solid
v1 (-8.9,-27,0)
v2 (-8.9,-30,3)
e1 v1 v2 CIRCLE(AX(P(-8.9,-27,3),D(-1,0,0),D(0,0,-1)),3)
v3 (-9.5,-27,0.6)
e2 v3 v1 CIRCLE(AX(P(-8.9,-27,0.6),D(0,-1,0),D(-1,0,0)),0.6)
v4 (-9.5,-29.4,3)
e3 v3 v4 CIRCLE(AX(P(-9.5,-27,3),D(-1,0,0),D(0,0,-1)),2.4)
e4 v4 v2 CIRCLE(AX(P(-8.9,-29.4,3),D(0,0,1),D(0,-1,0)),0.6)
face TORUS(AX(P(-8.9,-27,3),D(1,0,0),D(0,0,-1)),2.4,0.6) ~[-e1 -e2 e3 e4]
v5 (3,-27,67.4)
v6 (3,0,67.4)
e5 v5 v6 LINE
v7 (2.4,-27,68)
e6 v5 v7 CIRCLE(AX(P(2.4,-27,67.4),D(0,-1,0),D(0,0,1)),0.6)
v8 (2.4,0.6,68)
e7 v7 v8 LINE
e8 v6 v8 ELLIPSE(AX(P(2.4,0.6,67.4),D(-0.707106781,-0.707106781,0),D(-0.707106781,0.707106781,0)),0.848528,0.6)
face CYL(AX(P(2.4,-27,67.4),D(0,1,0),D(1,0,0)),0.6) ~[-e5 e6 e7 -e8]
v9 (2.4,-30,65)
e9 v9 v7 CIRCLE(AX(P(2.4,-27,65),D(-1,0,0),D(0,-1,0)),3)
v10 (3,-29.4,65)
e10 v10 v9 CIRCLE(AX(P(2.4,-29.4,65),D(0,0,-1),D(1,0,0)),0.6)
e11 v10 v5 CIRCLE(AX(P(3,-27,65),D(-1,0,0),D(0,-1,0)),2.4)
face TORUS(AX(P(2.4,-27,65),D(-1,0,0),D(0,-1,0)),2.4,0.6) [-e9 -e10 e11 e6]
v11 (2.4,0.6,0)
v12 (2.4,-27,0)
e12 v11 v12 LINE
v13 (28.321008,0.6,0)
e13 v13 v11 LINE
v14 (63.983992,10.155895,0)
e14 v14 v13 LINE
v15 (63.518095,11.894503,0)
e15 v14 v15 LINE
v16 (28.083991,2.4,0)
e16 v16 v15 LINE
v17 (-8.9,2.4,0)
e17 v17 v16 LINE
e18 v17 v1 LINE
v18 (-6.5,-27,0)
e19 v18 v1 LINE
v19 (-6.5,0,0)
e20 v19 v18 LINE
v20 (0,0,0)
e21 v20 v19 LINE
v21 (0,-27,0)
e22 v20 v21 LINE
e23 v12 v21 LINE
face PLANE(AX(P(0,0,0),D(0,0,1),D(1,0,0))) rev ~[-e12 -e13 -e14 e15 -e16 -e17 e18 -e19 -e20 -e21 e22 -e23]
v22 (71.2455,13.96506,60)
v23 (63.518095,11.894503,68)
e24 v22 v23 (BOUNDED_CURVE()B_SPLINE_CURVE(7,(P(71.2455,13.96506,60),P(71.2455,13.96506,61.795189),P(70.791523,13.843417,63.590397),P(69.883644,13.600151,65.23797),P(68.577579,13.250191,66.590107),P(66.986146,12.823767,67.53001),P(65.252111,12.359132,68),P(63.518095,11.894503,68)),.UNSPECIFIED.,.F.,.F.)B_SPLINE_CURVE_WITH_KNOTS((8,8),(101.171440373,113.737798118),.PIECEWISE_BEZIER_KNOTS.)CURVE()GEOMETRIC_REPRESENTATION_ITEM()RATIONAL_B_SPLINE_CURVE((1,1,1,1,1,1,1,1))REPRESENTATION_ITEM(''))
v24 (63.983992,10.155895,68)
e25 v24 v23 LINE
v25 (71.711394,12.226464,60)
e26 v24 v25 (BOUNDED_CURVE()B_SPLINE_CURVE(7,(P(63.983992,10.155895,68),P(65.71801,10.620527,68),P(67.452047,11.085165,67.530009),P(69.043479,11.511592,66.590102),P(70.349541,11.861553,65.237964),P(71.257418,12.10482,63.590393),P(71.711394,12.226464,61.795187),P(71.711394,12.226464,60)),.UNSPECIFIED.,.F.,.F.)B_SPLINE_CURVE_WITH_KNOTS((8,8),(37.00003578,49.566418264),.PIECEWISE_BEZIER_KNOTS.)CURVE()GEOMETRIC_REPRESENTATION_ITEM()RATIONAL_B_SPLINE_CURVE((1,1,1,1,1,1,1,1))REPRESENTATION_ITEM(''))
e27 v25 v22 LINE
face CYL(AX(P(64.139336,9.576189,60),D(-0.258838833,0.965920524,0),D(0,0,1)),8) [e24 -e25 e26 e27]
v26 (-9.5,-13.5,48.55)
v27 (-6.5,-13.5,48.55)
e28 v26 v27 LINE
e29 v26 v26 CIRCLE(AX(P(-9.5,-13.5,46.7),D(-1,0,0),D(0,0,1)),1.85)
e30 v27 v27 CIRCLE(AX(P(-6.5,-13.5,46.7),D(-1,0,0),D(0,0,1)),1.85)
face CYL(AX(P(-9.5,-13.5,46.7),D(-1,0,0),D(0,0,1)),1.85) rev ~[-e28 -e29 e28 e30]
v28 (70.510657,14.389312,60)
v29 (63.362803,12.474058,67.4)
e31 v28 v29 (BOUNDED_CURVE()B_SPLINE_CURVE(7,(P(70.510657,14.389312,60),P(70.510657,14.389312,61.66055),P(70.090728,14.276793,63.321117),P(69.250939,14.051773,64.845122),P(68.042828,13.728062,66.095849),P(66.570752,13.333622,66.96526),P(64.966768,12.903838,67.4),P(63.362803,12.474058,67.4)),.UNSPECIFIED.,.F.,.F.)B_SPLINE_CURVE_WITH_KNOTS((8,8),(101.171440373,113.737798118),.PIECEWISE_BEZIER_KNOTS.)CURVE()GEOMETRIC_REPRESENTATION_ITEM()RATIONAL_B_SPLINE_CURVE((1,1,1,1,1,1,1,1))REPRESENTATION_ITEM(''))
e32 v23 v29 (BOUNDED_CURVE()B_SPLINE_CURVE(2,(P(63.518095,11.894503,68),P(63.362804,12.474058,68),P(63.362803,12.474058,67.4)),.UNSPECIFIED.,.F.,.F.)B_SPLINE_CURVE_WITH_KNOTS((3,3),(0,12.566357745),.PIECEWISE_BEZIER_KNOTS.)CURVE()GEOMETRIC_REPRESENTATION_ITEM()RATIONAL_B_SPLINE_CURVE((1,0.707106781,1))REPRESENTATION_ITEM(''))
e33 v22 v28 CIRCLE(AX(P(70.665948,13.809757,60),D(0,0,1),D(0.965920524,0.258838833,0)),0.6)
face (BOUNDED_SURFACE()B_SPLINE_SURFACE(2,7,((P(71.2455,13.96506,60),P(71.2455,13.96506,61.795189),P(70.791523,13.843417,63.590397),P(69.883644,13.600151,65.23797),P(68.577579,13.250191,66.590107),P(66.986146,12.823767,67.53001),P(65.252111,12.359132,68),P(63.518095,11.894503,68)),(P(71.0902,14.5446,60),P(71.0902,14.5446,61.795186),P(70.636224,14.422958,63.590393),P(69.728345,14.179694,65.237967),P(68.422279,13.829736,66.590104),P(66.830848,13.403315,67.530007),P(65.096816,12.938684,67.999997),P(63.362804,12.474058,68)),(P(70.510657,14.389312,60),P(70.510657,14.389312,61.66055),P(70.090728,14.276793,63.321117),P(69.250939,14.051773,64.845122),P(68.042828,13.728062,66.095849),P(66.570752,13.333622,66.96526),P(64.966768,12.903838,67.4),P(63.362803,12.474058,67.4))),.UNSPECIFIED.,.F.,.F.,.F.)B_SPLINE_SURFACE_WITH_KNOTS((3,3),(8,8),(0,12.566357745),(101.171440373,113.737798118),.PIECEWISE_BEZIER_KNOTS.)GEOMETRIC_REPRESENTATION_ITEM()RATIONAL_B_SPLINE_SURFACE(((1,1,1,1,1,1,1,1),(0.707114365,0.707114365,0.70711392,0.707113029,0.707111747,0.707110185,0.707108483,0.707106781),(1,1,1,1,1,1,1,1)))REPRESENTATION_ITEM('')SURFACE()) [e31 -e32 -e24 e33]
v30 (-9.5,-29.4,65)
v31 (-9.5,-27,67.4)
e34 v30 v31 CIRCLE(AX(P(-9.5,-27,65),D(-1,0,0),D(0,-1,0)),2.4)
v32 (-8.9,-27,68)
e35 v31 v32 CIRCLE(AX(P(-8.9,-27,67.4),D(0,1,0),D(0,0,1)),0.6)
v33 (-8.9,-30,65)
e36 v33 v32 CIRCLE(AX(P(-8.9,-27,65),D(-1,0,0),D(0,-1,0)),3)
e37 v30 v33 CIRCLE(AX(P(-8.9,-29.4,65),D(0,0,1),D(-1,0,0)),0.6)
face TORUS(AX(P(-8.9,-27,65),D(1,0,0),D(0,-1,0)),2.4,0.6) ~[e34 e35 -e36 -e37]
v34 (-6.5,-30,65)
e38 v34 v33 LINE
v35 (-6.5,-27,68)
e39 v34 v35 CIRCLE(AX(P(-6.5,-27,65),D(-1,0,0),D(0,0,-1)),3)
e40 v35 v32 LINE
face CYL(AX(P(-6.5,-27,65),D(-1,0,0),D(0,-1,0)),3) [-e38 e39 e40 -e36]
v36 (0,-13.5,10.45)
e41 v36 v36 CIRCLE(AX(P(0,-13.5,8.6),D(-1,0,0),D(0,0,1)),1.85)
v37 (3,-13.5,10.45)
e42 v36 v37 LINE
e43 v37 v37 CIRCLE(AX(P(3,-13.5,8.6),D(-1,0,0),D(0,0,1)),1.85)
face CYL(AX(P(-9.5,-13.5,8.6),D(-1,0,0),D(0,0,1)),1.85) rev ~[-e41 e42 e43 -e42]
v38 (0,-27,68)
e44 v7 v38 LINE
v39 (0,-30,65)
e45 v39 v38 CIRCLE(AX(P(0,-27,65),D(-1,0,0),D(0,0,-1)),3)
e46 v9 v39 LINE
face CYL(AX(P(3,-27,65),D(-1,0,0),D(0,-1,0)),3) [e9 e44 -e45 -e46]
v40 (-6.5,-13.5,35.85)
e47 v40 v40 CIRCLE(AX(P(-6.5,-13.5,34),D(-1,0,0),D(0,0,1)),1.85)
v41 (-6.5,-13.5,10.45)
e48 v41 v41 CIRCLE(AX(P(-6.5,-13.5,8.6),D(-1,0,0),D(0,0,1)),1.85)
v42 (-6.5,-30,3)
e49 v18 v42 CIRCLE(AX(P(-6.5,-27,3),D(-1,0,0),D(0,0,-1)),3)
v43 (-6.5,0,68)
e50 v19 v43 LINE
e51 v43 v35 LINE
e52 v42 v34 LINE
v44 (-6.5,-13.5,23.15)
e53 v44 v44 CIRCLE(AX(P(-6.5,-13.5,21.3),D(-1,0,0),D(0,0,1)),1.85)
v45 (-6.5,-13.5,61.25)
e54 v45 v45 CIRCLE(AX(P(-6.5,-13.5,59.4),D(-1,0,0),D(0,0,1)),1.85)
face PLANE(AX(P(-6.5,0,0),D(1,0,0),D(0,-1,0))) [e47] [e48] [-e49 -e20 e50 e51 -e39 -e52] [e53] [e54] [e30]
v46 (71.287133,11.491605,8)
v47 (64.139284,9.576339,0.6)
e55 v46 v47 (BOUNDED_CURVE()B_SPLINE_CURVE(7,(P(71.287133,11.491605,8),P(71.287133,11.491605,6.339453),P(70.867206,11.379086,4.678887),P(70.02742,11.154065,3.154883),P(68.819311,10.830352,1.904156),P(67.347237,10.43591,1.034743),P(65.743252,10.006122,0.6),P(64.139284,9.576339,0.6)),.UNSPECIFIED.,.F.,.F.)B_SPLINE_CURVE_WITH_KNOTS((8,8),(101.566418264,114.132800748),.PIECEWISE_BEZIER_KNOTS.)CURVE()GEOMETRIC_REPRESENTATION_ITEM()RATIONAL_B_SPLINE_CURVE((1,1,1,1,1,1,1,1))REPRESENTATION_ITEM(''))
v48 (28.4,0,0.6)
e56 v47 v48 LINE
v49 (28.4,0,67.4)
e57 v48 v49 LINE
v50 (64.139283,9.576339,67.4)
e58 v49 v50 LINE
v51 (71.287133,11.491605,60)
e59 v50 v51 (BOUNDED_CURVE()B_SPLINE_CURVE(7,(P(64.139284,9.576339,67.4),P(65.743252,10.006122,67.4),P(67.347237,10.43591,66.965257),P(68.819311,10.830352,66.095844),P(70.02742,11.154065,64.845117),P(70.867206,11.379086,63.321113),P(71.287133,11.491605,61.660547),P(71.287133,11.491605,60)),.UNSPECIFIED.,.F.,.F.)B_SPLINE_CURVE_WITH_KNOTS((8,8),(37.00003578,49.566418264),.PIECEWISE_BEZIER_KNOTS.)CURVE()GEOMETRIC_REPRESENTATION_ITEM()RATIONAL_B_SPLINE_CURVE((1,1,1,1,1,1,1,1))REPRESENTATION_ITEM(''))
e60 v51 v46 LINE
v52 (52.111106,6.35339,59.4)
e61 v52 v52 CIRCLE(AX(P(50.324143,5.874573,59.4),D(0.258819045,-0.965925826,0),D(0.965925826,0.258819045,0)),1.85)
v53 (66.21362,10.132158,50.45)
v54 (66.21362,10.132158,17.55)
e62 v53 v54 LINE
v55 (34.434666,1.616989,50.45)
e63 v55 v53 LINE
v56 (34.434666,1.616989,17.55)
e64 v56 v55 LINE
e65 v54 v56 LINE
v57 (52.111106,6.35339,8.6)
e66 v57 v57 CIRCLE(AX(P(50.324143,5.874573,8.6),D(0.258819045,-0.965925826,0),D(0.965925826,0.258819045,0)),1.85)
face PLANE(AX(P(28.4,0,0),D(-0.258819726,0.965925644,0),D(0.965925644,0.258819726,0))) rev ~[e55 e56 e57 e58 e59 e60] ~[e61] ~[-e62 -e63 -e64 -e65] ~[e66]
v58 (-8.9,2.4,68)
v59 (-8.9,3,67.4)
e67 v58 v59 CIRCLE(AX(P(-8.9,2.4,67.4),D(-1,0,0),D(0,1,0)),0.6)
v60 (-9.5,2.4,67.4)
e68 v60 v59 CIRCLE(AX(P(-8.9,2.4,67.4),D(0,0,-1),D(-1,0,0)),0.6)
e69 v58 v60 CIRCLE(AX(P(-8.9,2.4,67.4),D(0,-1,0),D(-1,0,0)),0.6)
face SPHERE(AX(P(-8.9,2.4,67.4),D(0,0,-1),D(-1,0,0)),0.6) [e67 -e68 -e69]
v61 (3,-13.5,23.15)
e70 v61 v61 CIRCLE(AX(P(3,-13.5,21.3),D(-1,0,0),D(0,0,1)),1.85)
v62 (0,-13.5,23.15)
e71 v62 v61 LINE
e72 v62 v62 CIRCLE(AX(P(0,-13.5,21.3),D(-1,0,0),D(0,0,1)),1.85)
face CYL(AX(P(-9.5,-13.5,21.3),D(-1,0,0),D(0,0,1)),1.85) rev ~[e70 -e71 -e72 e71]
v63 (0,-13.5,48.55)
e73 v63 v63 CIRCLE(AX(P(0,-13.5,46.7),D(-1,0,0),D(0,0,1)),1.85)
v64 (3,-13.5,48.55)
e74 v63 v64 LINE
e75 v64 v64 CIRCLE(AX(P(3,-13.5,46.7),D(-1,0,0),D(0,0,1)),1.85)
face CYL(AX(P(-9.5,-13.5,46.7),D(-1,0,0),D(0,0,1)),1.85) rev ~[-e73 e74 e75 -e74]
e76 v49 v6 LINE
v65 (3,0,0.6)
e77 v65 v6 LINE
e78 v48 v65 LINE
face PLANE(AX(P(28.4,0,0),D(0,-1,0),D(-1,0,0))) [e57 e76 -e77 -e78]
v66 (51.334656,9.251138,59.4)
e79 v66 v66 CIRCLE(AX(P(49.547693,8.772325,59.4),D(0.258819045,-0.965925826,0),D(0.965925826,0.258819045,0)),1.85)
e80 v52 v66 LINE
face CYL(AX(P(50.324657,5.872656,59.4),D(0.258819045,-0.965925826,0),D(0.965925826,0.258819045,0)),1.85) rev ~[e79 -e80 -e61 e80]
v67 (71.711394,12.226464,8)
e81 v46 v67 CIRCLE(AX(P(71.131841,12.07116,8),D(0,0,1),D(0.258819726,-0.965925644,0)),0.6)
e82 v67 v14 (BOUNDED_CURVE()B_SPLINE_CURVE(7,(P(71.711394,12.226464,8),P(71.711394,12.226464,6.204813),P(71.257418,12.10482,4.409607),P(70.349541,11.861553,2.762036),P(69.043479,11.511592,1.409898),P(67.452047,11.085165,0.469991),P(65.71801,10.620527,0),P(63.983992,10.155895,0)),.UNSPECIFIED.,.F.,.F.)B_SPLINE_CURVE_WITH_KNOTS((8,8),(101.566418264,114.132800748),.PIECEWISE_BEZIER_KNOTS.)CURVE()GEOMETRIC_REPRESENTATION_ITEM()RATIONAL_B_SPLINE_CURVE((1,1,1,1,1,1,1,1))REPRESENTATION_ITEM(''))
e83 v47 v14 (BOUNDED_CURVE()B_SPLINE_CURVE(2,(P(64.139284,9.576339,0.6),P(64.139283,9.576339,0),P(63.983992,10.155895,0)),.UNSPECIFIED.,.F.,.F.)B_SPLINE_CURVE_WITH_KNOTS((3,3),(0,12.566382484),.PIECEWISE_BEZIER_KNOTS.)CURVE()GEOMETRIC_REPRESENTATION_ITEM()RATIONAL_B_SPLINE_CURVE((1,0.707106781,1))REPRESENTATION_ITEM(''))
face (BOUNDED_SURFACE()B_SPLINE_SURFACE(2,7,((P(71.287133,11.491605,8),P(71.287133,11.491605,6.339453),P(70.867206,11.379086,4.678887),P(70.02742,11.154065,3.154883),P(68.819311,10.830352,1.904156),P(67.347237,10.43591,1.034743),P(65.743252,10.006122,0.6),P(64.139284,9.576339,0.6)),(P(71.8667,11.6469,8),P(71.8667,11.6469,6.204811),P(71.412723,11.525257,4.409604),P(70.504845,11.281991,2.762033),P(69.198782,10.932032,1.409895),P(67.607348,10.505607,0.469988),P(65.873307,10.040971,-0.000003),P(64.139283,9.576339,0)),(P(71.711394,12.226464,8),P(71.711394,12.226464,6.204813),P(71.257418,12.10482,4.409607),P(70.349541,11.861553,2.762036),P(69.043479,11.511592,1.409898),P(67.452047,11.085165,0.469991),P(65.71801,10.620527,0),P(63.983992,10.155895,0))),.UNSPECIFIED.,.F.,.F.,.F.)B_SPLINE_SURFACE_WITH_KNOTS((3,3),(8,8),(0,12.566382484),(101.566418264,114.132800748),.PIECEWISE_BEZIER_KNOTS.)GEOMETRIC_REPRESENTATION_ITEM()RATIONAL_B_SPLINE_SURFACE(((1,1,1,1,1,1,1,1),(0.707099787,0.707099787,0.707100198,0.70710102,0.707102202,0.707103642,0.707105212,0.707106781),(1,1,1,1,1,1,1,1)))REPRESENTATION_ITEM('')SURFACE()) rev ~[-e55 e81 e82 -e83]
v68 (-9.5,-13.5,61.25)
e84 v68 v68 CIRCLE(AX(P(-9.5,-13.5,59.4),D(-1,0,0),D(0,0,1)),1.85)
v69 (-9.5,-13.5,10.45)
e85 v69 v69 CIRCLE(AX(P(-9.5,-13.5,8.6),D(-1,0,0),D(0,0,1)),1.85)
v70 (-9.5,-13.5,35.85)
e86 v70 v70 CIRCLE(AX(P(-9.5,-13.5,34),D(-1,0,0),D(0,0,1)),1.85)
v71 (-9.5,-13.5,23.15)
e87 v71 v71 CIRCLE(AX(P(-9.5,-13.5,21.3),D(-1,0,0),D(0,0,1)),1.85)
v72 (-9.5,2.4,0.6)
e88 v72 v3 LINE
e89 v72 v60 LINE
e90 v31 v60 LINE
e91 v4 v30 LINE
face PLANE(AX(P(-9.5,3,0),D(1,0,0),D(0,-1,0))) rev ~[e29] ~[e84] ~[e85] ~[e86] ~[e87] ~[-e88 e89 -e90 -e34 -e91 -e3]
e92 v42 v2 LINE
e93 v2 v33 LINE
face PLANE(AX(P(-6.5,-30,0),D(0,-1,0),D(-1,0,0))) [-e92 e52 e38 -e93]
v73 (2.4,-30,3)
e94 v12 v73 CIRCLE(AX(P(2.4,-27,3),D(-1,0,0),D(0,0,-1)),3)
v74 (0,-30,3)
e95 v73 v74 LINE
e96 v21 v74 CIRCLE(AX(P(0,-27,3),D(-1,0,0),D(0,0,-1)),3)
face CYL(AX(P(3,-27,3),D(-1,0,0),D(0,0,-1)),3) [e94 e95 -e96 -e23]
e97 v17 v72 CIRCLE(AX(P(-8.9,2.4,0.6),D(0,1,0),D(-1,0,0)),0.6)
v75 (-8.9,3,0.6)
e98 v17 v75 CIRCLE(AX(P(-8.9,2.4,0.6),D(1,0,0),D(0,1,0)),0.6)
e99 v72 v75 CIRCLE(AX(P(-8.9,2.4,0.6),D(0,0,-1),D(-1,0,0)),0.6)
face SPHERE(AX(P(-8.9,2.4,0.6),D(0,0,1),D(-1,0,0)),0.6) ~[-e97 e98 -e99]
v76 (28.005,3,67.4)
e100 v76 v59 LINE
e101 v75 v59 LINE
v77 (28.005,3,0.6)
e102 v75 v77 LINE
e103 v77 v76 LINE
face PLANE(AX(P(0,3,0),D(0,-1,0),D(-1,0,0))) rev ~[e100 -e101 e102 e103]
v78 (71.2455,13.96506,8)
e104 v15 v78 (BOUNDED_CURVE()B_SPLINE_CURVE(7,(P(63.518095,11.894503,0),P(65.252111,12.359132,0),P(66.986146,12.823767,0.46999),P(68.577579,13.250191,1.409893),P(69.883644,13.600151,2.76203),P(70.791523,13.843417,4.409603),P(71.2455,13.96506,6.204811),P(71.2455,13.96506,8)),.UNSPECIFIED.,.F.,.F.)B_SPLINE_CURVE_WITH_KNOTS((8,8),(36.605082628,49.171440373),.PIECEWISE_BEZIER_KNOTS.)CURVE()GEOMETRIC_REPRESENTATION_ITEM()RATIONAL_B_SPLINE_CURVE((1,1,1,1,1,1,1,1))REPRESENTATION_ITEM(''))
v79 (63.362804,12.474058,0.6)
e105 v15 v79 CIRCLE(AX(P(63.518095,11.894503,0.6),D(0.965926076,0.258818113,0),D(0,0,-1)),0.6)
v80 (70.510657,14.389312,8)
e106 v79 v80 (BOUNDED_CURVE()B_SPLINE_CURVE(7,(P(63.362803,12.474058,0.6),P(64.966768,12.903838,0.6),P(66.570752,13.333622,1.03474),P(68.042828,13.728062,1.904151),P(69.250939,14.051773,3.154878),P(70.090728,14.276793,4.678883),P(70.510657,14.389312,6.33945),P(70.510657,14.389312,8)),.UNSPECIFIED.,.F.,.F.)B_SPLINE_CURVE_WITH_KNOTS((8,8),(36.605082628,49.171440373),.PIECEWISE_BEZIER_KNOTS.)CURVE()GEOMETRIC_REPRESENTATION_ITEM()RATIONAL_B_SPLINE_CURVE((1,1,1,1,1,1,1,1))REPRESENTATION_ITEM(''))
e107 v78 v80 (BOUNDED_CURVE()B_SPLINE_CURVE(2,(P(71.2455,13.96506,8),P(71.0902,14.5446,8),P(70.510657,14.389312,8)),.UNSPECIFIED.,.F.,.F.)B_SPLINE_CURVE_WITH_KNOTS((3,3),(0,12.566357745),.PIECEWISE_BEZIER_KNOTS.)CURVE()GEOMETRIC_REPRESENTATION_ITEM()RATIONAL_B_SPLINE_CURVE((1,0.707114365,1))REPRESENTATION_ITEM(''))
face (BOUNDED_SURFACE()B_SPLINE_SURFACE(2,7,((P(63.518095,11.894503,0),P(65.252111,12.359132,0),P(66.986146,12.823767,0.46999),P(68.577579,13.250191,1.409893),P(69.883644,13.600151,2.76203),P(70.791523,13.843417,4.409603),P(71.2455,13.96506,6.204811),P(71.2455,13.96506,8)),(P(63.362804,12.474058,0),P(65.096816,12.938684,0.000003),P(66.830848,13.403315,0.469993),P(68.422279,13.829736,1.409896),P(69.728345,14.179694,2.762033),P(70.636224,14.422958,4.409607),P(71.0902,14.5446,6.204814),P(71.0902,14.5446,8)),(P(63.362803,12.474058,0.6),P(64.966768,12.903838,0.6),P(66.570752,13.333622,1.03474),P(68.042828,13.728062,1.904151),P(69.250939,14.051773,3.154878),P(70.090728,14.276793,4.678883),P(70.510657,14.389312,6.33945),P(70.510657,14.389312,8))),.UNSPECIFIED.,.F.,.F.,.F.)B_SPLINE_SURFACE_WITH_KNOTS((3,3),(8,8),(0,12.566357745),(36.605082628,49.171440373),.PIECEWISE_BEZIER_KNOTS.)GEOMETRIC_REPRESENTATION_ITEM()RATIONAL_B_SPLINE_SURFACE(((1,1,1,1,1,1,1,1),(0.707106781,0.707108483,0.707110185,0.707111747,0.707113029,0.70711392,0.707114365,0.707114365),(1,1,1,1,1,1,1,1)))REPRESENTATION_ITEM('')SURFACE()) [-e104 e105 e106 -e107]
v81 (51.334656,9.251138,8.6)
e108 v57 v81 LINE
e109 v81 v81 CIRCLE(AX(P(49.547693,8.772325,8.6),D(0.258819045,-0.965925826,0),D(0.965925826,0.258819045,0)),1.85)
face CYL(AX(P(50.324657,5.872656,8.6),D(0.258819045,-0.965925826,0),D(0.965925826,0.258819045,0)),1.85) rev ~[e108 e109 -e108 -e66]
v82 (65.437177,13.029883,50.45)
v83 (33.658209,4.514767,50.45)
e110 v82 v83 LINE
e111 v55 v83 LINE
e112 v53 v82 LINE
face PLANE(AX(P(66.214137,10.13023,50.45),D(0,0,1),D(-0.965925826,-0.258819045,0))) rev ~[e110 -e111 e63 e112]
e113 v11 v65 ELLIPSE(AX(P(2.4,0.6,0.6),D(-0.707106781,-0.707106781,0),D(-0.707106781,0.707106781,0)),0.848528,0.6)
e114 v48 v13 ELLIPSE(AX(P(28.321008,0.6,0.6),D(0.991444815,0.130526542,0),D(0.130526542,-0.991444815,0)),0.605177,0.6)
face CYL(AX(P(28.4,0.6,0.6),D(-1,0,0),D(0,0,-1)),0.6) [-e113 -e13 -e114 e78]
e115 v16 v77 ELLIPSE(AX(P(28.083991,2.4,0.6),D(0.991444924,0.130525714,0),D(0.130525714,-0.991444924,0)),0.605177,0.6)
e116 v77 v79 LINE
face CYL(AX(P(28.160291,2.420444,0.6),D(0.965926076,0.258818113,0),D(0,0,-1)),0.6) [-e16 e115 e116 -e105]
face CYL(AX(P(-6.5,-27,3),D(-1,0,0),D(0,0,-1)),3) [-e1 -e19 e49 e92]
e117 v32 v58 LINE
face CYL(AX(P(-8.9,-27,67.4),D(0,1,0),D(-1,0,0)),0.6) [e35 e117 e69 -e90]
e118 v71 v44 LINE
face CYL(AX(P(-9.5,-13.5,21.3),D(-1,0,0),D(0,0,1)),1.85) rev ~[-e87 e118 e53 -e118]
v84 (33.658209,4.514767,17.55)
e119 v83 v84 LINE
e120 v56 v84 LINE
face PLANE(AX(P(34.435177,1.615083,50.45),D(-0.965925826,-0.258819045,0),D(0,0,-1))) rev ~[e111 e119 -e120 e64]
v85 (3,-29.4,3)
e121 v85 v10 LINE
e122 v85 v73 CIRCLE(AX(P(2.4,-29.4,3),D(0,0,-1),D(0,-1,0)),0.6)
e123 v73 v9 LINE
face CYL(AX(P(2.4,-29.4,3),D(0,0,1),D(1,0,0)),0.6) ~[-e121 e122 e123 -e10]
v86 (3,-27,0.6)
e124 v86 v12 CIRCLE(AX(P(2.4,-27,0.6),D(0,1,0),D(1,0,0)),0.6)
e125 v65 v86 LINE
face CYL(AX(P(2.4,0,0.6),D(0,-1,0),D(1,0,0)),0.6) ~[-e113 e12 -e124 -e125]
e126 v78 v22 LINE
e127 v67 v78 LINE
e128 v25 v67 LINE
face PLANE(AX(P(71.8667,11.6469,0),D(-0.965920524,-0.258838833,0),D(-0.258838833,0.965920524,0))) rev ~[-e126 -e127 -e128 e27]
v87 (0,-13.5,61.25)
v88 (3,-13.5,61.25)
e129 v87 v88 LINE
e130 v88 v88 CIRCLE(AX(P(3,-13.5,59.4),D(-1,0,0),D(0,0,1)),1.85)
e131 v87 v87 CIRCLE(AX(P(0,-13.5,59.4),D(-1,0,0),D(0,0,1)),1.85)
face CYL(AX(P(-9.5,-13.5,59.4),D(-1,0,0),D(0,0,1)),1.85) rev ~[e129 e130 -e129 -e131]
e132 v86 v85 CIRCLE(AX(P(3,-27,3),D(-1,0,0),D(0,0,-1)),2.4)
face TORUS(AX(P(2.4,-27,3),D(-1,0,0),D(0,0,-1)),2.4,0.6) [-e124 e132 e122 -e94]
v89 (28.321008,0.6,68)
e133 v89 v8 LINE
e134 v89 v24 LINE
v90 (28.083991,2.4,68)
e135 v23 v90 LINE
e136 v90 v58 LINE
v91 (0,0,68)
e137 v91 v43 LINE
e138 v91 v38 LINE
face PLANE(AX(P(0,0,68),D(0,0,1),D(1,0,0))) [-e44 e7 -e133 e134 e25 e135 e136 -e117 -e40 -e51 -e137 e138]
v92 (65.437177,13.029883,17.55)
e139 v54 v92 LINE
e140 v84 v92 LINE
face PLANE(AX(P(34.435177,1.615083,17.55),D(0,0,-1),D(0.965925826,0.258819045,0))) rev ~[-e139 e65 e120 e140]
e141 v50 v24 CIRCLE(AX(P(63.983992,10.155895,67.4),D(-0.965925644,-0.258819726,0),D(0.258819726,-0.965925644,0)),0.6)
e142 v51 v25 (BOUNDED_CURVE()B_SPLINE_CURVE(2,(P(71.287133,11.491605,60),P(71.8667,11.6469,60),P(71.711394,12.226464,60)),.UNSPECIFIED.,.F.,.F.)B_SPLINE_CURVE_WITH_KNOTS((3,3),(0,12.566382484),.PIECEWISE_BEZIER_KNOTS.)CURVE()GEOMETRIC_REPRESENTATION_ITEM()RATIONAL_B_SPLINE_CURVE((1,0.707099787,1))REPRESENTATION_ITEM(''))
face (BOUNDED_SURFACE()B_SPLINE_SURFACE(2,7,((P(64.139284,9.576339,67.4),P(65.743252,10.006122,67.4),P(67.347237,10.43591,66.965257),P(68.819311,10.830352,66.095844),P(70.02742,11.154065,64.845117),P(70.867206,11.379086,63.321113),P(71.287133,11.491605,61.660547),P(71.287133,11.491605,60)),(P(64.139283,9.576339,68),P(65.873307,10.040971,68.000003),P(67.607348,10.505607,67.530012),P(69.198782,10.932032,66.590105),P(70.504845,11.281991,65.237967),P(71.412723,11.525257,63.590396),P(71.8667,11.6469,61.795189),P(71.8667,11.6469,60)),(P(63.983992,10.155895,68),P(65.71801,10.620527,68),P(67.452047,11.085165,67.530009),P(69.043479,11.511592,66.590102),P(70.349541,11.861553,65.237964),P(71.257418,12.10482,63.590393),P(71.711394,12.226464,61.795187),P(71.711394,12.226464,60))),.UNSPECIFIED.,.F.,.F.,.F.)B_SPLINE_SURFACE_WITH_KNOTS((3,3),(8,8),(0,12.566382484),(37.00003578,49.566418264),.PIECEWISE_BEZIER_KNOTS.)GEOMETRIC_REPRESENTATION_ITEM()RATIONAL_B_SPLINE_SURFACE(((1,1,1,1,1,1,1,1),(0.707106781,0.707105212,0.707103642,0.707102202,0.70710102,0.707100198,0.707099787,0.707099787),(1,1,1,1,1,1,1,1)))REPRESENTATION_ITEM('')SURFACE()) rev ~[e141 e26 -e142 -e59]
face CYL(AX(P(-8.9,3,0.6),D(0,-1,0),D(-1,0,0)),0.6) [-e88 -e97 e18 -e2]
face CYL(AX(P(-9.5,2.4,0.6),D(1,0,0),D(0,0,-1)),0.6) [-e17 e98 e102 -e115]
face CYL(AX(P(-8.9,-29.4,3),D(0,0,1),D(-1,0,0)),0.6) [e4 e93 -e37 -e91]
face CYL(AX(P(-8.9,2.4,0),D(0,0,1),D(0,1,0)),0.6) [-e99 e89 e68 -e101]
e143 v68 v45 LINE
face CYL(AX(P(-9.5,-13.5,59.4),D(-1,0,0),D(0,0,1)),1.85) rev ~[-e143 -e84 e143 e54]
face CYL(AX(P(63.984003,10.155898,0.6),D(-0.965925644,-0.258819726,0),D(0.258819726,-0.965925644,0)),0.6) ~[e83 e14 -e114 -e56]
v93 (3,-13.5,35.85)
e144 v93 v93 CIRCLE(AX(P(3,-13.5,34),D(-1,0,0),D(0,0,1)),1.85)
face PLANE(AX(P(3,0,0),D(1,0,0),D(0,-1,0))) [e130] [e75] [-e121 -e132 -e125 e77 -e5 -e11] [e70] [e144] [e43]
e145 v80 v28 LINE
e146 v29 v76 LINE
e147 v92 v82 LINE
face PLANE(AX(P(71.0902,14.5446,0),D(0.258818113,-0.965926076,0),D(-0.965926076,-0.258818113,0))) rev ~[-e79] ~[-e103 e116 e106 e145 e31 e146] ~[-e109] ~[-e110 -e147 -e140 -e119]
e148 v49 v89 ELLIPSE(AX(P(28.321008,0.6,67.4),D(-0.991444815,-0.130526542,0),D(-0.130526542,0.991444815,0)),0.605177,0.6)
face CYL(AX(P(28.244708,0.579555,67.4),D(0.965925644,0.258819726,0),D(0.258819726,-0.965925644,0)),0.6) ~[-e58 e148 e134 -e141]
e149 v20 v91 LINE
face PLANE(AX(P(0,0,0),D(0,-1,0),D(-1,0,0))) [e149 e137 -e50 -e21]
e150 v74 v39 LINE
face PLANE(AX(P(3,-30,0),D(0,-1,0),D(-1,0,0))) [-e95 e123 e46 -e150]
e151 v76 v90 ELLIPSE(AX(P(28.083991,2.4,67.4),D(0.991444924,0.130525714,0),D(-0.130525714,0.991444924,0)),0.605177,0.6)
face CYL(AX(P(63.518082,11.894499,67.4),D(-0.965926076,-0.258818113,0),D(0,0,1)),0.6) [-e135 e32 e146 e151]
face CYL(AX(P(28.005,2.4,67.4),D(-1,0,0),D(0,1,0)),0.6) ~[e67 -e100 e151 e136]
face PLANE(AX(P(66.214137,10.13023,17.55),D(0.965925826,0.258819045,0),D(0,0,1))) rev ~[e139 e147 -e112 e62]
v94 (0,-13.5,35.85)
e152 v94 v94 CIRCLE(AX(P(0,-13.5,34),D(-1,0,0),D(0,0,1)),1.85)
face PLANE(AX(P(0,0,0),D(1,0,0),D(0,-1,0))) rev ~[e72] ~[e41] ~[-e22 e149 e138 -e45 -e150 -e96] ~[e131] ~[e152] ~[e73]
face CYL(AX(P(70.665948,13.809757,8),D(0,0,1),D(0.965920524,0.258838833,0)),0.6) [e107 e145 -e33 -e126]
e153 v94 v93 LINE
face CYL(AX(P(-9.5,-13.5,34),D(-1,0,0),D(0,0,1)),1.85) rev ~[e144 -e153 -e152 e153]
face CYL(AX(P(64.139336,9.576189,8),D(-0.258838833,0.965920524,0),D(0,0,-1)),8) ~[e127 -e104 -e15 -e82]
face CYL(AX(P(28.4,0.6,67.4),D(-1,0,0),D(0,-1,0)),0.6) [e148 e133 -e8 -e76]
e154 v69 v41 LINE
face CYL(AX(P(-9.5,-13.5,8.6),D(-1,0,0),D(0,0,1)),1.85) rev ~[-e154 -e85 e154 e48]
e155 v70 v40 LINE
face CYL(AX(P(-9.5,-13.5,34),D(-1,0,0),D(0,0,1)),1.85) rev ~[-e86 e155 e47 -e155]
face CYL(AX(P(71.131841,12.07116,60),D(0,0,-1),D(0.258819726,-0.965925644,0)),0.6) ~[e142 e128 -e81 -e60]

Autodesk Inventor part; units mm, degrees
ref_plane "YZ Plane" through (0, 0, 0) normal (1, 0, 0) x (0, 1, 0)
ref_plane "XZ Plane" through (0, 0, 0) normal (0, 1, 0) x (-1, 0, 0)
ref_plane "XY Plane" through (0, 0, 0) normal (0, 0, 1) x (1, 0, 0)
sketch "Sketch1" plane through (0, 0, 0) normal (0, 0, 1) x (1, 0, 0)
  line L0 (0, 0) -> (-6.5, 0)
  line L1 (-6.5, 0) -> (-6.5, -30)
  line L2 (-6.5, 0) -> (23.5, 0) construction
  line L3 (0, 0) -> (0, -30)
  line L4 (3, 0) -> (3, -30)
  line L5 (0, 3) -> (-9.5, 3)
  line L6 (-9.5, 3) -> (-9.5, -30)
  line L7 (3, -30) -> (0, -30)
  line L8 (-6.5, -30) -> (-9.5, -30)
  line L9 (28.4, 0) -> (71.8667, 11.6469)
  line L10 (28.4, 0) -> (73.4, 0) construction
  line L11 (28.4, 0) -> (3, 0)
  line L12 (0, 3) -> (28.005, 3)
  line L13 (71.0902, 14.5446) -> (28.005, 3)
  line L14 (71.8667, 11.6469) -> (71.0902, 14.5446)
  dimension "d0" = 6.5
  dimension "d1" = 30
  dimension "d2" = 90
  dimension "d3" = 30
  dimension "d4" = 3
  dimension "d5" = 3
  dimension "d6" = 25.4
  dimension "d7" = 45
  dimension "d8" = 15
extrude "Extrusion1" add sketch "Sketch1" along normal blind 68
sketch "Sketch2" plane through (71.8667, 11.6469, 0) normal (0.2588, -0.9659, 0) x (0.9659, 0.2588, 0)
  line L0 (0, 0) -> (-44.605, 0) construction
  line L1 (-22.3025, 0) -> (-22.3025, 68) construction
  line L2 (0, 68) -> (-44.605, 68) construction
  circle A0 centre (-22.3025, 34) radius 25.4 construction
  circle A1 centre (-22.3025, 8.6) radius 1.85
  circle A2 centre (-22.3025, 59.4) radius 1.85
  line L3 (-5.8525, 50.45) -> (-38.7525, 50.45)
  line L4 (-38.7525, 50.45) -> (-38.7525, 17.55)
  line L5 (-38.7525, 17.55) -> (-5.8525, 17.55)
  line L6 (-5.8525, 17.55) -> (-5.8525, 50.45)
  line L7 (-5.8525, 50.45) -> (-38.7525, 17.55) construction
  line L8 (-38.7525, 50.45) -> (-5.8525, 17.55) construction
  point P0 (-72.4323, 0)
  dimension "d12" = 50.8
  dimension "d13" = 3.7
  dimension "d14" = 3.7
  dimension "d15" = 32.9
  dimension "d16" = 32.9
extrude "Extrusion2" cut sketch "Sketch2" against normal blind 68
sketch "Sketch3" plane through (-9.5, -30, 0) normal (-1, 0, 0) x (0, 0, 1)
  line L0 (0, 33) -> (0, 0) construction
  line L1 (0, 16.5) -> (68, 16.5) construction
  line L2 (68, 33) -> (68, 0) construction
  circle A0 centre (34, 16.5) radius 1.85
  circle A1 centre (46.7, 16.5) radius 1.85
  circle A2 centre (21.3, 16.5) radius 1.85
  circle A3 centre (59.4, 16.5) radius 1.85
  circle A4 centre (8.6, 16.5) radius 1.85
  point P0 (0, 30)
  dimension "d19" = 3.7
  dimension "d22" = 12.7
extrude "Extrusion3" cut sketch "Sketch3" against normal blind 68
fillet "Fillet1" radius 8 2 edges at (71.4784, 13.0957, 0) (71.4784, 13.0957, 68)
fillet "Fillet2" radius 3 4 edges at (1.5, -30, 68) (-8, -30, 68) (1.5, -30, 0) (-8, -30, 0)
fillet "Fillet3" radius 0.6 25 edges at (-9.5, 3, 34) (-9.5, -29.1213, 67.1213) (-9.5, -30, 34) (-9.5, -29.1213, 0.8787) (-9.5, -12, 0) (-9.5, -12, 68) (9.2525, 3, 68) (9.2525, 3, 0) (68.8269, 13.9382, 2.3431) (71.0902, 14.5446, 34) (68.8269, 13.9382, 65.6569) (45.6839, 7.737, 68) (45.6839, 7.737, 0) (69.6034, 11.0404, 65.6569) (71.8667, 11.6469, 34) (69.6034, 11.0404, 2.3431) (46.2696, 4.7882, 0) (46.2696, 4.7882, 68) (15.7, 0, 68) (15.7, 0, 0) (3, -29.1213, 67.1213) (3, -13.5, 68) (3, -29.1213, 0.8787) (3, -13.5, 0) (3, -30, 34)
chamfer "Chamfer1" [suppressed]
properties part number "CamMountThrify"
